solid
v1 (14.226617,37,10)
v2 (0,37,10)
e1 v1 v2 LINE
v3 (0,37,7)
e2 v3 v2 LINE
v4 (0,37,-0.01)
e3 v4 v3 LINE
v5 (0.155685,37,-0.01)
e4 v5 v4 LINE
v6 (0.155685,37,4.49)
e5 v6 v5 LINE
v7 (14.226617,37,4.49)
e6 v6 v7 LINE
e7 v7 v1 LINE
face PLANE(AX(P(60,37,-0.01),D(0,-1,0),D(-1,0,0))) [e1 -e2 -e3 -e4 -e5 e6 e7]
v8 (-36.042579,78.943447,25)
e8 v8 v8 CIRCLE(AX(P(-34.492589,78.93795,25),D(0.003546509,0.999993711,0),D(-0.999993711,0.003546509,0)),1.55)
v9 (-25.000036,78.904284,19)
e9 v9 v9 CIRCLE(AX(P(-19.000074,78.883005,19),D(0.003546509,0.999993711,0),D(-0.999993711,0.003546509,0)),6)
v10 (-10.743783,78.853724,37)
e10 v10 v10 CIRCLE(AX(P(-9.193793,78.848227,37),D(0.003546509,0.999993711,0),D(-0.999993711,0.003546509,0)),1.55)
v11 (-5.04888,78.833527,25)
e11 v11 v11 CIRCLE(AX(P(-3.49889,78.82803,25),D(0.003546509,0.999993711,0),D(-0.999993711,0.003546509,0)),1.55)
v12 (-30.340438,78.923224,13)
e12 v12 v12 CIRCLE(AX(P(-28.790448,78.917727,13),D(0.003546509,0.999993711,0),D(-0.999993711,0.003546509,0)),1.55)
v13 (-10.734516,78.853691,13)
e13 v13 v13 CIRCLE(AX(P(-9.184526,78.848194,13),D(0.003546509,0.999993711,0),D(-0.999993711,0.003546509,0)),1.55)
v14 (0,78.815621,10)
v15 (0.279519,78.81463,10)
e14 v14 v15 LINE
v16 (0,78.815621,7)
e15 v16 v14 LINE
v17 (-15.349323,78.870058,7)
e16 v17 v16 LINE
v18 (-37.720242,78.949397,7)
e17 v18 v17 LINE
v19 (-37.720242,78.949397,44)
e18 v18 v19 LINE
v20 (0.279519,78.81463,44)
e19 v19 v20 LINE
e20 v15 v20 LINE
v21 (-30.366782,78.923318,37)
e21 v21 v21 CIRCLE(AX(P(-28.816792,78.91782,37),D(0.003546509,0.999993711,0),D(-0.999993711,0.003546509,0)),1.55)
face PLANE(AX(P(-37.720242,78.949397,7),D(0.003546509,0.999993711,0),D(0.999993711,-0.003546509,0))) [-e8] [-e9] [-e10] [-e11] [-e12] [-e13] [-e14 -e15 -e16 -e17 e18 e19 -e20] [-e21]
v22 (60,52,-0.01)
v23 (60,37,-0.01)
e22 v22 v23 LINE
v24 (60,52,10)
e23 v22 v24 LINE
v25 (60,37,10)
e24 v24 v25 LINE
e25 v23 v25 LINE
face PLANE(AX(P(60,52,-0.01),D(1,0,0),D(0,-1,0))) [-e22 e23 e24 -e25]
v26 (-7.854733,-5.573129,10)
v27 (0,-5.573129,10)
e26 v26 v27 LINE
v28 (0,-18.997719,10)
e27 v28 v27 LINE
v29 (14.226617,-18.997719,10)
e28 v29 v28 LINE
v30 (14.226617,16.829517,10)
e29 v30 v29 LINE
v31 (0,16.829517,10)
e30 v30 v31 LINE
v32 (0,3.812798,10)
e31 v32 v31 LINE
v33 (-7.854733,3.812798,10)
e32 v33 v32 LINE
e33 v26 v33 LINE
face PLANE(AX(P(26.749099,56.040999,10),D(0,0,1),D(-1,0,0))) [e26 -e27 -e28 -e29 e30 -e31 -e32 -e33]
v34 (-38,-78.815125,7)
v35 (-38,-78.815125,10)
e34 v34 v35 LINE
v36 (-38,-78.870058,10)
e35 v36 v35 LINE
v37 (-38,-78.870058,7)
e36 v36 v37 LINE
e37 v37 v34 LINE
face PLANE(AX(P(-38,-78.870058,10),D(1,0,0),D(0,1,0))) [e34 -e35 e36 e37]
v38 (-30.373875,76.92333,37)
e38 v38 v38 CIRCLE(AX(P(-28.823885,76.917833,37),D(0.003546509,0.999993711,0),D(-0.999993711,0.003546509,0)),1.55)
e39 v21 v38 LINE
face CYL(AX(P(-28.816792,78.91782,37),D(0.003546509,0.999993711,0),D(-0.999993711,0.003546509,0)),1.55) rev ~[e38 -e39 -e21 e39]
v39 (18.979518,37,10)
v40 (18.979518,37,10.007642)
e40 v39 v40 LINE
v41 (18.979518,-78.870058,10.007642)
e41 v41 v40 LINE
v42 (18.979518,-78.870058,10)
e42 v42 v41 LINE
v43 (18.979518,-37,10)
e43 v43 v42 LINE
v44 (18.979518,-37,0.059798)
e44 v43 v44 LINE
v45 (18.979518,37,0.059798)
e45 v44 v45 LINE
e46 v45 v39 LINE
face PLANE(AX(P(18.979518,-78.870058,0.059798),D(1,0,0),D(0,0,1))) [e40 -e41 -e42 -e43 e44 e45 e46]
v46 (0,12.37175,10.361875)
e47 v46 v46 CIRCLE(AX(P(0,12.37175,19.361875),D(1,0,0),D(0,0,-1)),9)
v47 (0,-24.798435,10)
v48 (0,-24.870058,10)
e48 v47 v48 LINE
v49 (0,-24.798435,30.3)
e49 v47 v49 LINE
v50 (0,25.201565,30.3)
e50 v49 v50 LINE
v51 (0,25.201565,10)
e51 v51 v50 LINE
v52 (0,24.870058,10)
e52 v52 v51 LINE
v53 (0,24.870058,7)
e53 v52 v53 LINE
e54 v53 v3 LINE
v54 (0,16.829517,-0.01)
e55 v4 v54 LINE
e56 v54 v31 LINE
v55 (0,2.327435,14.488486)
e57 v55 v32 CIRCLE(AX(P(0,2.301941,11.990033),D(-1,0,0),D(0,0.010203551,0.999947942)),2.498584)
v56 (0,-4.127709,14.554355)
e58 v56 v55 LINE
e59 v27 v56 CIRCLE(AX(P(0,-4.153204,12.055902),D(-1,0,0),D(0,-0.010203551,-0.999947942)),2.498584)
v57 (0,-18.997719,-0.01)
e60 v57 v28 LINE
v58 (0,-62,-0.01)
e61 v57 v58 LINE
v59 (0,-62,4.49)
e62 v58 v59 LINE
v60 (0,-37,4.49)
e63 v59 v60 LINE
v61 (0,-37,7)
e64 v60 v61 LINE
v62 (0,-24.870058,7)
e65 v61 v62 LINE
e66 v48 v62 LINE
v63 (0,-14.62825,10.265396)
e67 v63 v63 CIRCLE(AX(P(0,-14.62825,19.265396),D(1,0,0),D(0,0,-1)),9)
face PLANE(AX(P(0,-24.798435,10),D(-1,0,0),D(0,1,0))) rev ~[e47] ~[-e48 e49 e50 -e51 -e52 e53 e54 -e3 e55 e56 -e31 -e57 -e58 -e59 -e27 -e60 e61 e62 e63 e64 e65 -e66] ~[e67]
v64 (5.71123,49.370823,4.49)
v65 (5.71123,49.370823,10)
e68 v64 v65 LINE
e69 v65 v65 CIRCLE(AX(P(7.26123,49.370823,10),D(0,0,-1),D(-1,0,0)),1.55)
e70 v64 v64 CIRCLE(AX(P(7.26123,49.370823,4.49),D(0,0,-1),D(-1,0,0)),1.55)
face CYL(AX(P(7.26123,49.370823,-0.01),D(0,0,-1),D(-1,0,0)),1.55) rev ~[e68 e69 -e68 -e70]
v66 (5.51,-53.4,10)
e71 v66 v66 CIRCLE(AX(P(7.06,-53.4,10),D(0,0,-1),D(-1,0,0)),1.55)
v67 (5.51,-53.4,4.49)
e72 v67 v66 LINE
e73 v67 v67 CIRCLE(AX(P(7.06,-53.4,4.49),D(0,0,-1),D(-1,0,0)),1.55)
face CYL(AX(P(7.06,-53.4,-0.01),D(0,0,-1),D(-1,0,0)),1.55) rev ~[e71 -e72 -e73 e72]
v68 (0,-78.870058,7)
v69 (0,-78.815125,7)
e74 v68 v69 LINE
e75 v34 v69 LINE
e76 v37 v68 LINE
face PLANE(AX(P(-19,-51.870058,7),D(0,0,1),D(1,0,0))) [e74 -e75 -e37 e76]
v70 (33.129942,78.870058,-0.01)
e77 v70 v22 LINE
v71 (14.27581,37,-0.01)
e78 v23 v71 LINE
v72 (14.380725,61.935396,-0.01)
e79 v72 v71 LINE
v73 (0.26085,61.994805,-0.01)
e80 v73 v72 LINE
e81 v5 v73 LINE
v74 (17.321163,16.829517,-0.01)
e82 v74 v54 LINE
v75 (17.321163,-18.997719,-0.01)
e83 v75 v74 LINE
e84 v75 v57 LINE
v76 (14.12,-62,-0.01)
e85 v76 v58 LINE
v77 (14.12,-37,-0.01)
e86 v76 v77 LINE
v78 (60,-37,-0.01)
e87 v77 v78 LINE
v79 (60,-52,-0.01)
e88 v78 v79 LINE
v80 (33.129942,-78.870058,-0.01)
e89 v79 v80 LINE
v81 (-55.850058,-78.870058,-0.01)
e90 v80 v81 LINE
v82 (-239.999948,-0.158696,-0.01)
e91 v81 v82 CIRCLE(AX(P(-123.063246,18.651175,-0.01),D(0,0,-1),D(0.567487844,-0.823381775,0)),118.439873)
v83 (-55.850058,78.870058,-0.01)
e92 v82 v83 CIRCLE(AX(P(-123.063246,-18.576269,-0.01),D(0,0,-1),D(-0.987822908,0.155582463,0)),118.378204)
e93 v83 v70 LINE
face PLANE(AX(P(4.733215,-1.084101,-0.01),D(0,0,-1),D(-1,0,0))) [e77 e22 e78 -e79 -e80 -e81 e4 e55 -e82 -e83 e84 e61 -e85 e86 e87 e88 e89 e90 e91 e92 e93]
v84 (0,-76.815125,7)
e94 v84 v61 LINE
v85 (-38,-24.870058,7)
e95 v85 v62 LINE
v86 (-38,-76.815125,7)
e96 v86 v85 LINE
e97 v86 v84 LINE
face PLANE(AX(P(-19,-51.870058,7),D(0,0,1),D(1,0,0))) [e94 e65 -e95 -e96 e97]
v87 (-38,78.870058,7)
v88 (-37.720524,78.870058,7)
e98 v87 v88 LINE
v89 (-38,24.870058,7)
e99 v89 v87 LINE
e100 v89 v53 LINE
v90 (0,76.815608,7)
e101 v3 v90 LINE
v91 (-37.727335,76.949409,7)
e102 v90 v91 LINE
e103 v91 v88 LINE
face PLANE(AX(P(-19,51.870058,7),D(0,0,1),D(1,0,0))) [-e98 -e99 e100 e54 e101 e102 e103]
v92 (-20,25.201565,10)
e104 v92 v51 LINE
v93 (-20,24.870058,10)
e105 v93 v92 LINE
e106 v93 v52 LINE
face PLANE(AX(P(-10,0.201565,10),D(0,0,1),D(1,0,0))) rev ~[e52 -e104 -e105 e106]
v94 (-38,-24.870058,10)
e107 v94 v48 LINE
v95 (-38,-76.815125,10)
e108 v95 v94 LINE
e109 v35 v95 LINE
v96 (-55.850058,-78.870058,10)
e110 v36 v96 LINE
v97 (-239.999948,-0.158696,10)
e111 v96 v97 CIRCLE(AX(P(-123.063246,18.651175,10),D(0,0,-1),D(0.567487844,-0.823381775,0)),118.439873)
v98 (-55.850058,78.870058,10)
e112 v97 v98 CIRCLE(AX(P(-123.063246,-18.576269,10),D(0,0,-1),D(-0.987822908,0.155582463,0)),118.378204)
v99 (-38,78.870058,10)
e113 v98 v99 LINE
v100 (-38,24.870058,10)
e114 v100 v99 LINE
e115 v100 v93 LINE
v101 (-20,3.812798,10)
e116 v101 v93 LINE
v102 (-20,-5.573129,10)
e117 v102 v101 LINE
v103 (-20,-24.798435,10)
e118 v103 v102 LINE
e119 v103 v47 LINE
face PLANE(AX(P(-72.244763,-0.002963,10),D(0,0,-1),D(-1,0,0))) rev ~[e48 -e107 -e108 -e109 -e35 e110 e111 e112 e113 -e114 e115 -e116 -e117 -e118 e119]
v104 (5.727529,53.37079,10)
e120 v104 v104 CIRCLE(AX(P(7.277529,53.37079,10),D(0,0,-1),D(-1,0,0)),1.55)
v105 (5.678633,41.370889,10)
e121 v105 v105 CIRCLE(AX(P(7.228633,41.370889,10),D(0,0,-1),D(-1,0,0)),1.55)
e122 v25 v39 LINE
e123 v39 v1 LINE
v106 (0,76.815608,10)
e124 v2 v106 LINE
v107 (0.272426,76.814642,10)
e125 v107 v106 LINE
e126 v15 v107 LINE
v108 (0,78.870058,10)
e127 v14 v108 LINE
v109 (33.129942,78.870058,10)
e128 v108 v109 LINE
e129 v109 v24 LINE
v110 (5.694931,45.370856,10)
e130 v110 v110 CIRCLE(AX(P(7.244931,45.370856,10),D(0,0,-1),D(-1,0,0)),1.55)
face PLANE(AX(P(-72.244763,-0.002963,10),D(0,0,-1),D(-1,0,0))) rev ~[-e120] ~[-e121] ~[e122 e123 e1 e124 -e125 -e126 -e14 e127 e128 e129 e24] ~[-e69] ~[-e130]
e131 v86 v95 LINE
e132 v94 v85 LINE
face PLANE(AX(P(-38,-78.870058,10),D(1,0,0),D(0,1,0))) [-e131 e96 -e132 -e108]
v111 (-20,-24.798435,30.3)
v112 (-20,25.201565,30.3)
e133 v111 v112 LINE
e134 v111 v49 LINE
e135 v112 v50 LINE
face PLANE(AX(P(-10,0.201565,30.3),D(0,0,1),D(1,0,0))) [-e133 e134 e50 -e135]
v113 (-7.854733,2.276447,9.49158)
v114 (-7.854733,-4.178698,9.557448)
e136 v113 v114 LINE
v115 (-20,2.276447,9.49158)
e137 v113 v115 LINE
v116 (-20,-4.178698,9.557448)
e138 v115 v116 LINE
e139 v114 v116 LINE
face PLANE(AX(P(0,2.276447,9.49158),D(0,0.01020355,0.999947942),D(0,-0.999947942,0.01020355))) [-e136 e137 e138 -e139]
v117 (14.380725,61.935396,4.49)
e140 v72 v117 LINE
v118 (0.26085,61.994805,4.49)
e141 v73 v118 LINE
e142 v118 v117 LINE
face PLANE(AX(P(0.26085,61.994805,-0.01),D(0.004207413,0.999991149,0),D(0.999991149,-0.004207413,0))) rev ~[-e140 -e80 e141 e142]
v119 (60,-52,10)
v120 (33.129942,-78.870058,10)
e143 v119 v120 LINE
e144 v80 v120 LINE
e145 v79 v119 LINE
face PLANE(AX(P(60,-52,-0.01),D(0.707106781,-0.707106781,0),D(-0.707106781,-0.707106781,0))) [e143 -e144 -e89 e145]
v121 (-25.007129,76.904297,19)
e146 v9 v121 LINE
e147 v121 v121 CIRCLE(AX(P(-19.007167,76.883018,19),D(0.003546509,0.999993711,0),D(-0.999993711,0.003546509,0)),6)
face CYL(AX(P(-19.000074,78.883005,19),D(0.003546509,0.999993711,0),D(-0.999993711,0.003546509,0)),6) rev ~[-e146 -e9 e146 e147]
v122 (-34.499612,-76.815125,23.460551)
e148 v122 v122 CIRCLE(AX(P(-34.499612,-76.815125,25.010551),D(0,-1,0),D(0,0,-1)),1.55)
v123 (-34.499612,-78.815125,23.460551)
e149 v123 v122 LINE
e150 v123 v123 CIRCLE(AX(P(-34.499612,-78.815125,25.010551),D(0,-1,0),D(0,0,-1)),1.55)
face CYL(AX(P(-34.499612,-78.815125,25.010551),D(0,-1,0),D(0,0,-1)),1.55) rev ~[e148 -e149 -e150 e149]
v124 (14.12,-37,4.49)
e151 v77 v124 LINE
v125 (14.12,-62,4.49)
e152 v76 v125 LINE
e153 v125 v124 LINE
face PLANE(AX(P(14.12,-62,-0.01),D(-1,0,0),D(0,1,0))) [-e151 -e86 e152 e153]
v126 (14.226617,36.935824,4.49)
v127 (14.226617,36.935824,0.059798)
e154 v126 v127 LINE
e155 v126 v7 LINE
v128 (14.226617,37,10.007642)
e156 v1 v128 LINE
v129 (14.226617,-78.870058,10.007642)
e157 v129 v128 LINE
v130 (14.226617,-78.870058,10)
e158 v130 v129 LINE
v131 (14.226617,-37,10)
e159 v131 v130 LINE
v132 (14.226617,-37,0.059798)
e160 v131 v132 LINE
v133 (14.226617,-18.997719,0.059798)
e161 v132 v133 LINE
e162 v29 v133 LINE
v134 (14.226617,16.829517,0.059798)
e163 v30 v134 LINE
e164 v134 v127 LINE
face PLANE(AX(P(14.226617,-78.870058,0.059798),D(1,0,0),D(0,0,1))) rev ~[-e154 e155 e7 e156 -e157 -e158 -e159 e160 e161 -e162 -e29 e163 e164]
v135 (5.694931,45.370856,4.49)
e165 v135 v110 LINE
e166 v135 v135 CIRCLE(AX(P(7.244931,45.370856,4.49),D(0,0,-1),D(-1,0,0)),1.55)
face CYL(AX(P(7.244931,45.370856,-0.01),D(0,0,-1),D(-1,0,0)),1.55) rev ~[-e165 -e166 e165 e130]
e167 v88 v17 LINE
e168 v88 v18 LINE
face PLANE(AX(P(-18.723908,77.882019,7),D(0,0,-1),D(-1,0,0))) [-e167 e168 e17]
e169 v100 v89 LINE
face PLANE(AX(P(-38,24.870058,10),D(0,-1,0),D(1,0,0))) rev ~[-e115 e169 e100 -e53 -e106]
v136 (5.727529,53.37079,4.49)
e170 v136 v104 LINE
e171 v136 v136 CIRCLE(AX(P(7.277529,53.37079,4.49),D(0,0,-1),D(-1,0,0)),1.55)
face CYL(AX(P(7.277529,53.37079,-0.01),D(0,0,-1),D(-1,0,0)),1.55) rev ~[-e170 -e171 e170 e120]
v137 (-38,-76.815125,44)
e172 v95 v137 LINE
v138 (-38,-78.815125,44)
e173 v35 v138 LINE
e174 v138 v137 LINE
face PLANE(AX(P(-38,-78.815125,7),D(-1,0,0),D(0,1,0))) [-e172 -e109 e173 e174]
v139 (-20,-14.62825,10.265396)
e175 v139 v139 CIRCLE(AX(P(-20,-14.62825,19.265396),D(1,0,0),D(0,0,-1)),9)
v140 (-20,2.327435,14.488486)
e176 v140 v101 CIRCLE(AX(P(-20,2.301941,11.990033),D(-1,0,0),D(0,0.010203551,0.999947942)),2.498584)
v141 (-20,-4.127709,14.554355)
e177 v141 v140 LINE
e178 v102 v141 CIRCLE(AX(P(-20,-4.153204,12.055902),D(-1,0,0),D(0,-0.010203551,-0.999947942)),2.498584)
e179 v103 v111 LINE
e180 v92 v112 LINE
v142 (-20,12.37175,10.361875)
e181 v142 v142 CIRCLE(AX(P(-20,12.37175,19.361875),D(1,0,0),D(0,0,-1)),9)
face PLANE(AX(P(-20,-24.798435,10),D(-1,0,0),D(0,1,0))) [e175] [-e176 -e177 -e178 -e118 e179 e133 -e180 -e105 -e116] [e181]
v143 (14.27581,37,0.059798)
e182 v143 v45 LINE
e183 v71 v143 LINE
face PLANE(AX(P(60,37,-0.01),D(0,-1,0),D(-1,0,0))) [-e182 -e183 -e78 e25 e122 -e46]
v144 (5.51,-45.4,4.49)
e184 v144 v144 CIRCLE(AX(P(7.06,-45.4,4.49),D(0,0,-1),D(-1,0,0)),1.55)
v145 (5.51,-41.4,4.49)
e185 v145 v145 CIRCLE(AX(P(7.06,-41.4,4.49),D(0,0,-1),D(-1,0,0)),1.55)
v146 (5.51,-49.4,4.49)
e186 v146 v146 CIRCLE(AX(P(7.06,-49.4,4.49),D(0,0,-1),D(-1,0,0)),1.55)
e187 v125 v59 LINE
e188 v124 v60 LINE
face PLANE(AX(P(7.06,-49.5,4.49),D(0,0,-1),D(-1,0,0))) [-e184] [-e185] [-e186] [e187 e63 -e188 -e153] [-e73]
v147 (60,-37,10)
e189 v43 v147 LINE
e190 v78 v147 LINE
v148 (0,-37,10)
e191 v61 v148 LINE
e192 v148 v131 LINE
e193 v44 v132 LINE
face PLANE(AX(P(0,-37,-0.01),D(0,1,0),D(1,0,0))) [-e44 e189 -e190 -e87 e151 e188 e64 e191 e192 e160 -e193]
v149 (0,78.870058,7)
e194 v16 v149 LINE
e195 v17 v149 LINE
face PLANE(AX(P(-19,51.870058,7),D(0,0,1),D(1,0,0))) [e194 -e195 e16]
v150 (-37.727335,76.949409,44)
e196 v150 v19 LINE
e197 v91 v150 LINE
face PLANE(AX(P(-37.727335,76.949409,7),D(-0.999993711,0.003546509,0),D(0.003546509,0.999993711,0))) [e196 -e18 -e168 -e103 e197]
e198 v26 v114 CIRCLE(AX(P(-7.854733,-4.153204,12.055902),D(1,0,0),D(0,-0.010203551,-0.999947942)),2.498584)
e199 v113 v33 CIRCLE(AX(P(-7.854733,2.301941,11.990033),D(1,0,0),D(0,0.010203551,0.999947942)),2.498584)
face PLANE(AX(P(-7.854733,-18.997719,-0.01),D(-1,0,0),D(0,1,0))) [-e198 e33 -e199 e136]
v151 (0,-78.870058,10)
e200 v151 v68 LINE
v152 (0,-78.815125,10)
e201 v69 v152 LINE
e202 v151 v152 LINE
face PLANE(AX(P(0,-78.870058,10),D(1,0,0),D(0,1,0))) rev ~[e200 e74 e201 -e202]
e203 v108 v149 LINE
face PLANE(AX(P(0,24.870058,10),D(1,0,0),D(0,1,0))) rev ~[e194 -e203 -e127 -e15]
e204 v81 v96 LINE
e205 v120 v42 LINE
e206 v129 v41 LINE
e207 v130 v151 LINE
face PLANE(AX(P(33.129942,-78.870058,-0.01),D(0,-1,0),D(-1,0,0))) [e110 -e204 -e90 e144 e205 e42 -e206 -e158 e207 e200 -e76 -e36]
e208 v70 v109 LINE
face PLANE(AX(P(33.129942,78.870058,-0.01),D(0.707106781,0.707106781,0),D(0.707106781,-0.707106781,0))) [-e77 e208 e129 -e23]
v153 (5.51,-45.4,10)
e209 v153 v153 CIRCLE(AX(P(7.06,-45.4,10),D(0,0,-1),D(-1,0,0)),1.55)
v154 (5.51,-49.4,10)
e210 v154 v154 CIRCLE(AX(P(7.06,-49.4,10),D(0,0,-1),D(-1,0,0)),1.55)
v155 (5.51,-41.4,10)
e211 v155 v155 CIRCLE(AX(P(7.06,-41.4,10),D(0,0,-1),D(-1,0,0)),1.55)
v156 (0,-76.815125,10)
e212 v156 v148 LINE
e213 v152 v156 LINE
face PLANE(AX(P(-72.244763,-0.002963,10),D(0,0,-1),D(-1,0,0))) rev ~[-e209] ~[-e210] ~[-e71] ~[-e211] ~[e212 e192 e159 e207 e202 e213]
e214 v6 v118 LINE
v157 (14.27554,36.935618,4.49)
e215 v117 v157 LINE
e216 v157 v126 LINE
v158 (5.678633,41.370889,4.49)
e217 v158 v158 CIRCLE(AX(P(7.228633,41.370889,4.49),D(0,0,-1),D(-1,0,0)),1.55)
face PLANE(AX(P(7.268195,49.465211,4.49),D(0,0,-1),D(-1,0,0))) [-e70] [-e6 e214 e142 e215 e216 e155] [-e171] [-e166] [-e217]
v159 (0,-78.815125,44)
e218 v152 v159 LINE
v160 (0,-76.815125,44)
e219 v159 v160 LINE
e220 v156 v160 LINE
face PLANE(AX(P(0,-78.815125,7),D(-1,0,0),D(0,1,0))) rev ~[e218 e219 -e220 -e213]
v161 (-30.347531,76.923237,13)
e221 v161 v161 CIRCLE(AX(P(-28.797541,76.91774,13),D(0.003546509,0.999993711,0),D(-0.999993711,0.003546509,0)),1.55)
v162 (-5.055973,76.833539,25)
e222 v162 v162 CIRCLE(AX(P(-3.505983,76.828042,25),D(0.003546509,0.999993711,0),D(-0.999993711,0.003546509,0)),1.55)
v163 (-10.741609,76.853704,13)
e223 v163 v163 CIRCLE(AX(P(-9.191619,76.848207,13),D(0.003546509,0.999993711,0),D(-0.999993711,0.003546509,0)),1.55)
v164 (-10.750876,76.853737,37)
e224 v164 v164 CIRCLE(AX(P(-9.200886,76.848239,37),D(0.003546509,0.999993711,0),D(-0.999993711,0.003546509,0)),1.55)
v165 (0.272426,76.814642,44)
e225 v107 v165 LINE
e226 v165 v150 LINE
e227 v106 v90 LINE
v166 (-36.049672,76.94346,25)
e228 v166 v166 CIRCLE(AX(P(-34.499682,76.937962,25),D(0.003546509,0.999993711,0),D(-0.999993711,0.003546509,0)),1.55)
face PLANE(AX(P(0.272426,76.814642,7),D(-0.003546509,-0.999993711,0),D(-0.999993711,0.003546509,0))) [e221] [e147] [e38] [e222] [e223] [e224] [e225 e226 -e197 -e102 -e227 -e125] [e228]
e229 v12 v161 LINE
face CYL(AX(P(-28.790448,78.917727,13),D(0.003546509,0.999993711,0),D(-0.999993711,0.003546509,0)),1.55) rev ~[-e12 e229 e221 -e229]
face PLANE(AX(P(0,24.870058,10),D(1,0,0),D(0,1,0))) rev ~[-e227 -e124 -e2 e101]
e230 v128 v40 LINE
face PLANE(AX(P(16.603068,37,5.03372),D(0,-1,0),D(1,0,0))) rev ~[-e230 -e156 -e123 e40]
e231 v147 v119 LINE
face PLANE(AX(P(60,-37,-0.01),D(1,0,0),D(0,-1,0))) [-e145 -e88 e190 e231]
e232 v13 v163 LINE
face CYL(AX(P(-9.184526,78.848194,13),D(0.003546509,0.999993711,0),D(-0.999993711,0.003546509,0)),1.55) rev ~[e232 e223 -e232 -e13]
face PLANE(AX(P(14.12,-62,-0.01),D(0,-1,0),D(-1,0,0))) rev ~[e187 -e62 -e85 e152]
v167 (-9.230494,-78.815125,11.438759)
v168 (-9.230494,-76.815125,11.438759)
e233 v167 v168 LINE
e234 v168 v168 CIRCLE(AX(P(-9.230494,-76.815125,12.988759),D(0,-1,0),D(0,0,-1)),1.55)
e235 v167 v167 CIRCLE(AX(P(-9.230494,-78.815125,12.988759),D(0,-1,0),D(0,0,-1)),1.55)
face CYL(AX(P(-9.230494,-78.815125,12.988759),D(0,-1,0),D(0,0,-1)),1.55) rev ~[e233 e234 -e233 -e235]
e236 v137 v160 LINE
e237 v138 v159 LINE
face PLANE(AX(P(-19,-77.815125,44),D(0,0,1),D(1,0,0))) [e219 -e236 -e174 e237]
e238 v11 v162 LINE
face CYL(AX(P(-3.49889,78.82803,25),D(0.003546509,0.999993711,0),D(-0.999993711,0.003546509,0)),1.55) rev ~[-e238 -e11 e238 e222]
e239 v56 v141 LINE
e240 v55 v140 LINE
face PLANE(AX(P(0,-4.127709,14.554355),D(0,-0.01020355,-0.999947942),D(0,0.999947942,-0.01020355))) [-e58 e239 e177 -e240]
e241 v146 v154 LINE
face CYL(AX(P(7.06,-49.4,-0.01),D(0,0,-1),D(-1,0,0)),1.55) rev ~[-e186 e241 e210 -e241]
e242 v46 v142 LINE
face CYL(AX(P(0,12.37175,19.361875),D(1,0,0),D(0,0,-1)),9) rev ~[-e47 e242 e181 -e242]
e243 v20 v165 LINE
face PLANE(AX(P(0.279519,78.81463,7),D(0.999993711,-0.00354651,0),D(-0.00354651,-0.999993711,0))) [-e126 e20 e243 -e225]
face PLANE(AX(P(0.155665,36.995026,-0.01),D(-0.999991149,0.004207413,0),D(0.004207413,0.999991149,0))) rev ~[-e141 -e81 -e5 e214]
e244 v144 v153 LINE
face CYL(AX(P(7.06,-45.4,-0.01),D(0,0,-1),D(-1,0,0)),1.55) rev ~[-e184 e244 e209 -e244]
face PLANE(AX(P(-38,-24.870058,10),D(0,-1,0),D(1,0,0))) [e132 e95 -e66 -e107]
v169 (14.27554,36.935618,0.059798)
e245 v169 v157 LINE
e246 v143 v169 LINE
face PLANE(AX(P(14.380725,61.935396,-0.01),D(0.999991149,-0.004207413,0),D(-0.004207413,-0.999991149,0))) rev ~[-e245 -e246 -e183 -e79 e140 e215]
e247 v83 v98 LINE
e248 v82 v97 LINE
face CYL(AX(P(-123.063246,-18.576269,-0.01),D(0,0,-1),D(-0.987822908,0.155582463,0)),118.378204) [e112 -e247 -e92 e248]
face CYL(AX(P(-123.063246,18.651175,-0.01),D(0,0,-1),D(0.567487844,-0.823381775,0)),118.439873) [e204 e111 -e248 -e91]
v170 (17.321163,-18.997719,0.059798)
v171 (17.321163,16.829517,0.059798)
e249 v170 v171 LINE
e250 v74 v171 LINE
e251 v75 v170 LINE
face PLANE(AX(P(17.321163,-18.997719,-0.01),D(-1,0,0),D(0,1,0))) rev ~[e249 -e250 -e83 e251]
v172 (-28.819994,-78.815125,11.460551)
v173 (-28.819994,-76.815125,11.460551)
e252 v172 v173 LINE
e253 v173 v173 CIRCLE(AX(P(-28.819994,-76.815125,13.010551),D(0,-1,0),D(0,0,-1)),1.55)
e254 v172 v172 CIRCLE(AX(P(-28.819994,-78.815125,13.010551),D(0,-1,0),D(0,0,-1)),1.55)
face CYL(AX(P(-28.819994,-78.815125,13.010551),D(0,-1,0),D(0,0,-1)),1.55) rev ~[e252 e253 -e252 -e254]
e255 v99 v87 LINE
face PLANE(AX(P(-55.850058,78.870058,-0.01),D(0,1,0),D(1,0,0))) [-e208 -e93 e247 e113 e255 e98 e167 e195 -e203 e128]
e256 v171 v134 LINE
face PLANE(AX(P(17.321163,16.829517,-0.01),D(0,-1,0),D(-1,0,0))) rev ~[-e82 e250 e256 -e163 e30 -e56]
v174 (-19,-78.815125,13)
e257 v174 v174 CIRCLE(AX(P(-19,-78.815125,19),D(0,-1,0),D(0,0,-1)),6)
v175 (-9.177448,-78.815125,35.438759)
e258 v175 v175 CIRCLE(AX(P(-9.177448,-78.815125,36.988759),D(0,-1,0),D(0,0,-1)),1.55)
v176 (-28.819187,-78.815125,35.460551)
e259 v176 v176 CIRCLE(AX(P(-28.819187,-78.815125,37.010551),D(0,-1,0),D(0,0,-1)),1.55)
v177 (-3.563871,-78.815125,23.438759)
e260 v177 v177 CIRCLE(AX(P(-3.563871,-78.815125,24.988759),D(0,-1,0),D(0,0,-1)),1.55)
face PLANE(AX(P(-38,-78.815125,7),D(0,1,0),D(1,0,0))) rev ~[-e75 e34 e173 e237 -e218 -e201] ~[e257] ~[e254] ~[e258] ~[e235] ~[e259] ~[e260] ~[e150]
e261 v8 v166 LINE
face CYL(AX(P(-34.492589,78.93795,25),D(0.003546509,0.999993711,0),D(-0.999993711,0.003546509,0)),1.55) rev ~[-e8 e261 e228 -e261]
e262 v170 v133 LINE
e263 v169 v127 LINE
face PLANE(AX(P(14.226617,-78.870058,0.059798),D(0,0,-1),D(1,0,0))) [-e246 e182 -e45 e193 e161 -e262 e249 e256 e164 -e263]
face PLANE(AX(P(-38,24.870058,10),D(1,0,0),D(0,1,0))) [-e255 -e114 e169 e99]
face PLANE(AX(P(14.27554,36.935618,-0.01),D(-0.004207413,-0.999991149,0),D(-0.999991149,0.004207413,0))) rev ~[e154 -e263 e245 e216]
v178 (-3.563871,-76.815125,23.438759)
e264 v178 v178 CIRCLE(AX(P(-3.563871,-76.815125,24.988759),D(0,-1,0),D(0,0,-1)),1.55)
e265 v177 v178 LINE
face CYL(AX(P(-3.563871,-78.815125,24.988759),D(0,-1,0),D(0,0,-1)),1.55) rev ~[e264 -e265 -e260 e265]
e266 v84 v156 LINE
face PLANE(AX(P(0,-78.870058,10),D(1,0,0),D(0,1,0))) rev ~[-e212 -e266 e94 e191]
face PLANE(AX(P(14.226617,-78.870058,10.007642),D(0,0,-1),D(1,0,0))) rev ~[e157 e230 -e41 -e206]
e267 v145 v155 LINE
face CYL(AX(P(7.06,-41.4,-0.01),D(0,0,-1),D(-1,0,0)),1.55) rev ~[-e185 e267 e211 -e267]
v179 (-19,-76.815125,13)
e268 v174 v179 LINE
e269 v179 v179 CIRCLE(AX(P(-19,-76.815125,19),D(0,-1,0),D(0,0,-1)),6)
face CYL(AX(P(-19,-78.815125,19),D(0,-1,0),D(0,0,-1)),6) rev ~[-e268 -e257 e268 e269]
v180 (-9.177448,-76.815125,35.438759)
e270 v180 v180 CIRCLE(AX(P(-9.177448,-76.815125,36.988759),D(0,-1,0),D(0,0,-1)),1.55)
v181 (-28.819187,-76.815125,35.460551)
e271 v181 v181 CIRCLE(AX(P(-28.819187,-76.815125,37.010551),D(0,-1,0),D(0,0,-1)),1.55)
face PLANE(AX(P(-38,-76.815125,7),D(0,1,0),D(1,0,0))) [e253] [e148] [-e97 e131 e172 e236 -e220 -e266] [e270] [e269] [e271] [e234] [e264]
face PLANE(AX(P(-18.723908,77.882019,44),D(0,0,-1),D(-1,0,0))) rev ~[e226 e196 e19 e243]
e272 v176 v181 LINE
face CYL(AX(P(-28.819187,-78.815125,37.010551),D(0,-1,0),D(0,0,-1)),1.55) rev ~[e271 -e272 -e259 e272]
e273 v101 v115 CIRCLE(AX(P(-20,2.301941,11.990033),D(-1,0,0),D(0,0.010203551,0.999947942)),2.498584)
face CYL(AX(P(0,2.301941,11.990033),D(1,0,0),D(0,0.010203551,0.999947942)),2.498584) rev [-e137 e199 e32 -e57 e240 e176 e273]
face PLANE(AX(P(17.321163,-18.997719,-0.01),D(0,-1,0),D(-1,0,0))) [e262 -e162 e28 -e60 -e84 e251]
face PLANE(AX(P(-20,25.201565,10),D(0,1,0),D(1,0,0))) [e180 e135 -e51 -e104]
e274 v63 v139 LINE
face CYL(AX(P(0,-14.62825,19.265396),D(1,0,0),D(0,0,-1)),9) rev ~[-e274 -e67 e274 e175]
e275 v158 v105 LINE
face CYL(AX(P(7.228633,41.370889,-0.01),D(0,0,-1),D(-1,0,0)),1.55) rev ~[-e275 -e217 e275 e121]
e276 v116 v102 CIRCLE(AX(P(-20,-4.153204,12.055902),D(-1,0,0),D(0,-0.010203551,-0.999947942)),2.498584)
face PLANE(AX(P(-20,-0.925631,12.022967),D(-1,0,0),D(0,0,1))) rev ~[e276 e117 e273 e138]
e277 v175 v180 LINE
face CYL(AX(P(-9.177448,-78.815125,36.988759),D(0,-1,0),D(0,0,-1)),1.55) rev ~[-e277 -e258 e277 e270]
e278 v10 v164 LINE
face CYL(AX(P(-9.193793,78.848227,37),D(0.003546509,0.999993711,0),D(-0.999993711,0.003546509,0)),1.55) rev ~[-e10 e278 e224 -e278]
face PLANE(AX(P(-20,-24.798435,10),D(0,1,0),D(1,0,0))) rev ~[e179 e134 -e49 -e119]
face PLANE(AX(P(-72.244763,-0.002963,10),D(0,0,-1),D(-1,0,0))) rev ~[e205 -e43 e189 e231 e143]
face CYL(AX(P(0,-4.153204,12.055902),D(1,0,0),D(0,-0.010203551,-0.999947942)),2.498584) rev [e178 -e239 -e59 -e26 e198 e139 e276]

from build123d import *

# Parameters (mm, degrees)
BOSS_EXTRUDE1_DEPTH      = 10
BOSS_EXTRUDE1_DEPTH_BACK = 0.01
SKETCH3_W                = 38
SKETCH3_H                = 54
CUT_EXTRUDE1_DEPTH       = 3
SKETCH5_W                = 38
SKETCH5_H                = 54
CUT_EXTRUDE3_DEPTH       = 3
SKETCH15_W               = 20
SKETCH15_H               = 50
BOSS_EXTRUDE3_DEPTH      = 20.3
SKETCH21_R               = 9
CUT_EXTRUDE21_DEPTH      = 20
SKETCH28_W               = 4.75290021
SKETCH28_H               = 9.947843747
BOSS_EXTRUDE6_DEPTH      = 115.870057685
SKETCH30_W               = 14.12
SKETCH30_H               = 25
CUT_EXTRUDE25_DEPTH      = 4.5
SKETCH33_R               = 1.55
CUT_EXTRUDE26_DEPTH      = 10.01
SKETCH36_W               = 38
SKETCH36_H               = 2
BOSS_EXTRUDE7_DEPTH      = 37
SKETCH39_R               = 6
SKETCH39_R_2             = 1.55
CUT_EXTRUDE28_DEPTH      = 2
SKETCH42_R               = 6
SKETCH42_R_2             = 1.55
CUT_EXTRUDE29_DEPTH      = 2
BOSS_EXTRUDE8_REACH      = 265.623
SKETCH44_W               = 25.175895627
SKETCH44_H               = 35.827236085


with BuildPart() as part:
    # Sketch1 → Boss-Extrude1 (new, two sides: drawn at the far end of the back side and taken through both)
    with BuildSketch(Plane.XY.offset(-BOSS_EXTRUDE1_DEPTH_BACK)):
        with BuildLine():
            Line((0, 0), (0, -37))
            Line((0, -37), (60, -37))
            Line((60, -37), (60, -52))
            Line((60, -52), (33.129942315, -78.870057685))
            Line((33.129942315, -78.870057685), (-55.850057685, -78.870057685))
            ThreePointArc((-55.850057685, -78.870057685), (-169.614041234, -90.257166815), (-239.999947532, -0.158696229))
            ThreePointArc((-239.999947532, -0.158696229), (-169.748285548, 90.207490359), (-55.850057685, 78.870057685))
            Line((-55.850057685, 78.870057685), (33.129942315, 78.870057685))
            Line((33.129942315, 78.870057685), (60, 52))
            Line((60, 52), (60, 37))
            Line((60, 37), (0, 37))
            Line((0, 37), (0, 0))
        make_face()
    extrude(amount=BOSS_EXTRUDE1_DEPTH + BOSS_EXTRUDE1_DEPTH_BACK)

    # Sketch3 → Cut-Extrude1 (cut)
    with BuildSketch(Plane.XY.offset(10)):
        with Locations((-19, 51.870057685)):
            Rectangle(SKETCH3_W, SKETCH3_H)
    extrude(amount=-CUT_EXTRUDE1_DEPTH, mode=Mode.SUBTRACT)

    # Sketch5 → Cut-Extrude3 (cut)
    with BuildSketch(Plane.XY.offset(10)):
        with Locations((-19, -51.870057685)):
            Rectangle(SKETCH5_W, SKETCH5_H)
    extrude(amount=-CUT_EXTRUDE3_DEPTH, mode=Mode.SUBTRACT)

    # Sketch15 → Boss-Extrude3 (add)
    with BuildSketch(Plane.XY.offset(10)):
        with Locations((-10, 0.20156489)):
            Rectangle(SKETCH15_W, SKETCH15_H)
    extrude(amount=BOSS_EXTRUDE3_DEPTH)

    # Sketch21 → Cut-Extrude21 (cut)
    with BuildSketch(Plane(origin=(0, 0, 0), x_dir=(0, 0, -1), z_dir=(1, 0, 0))):
        with Locations((-19.36187505, 12.37175029)):
            Circle(SKETCH21_R)
        with Locations((-19.26539558, -14.62824971)):
            Circle(SKETCH21_R)
        with BuildLine():
            Line((-9.491579533, 2.276446619), (-9.557448357, -4.178698144))
            ThreePointArc((-9.557448357, -4.178698144), (-12.081396215, -6.651657156), (-14.554355227, -4.127709299))
            Line((-14.554355227, -4.127709299), (-14.488486403, 2.327435464))
            ThreePointArc((-14.488486403, 2.327435464), (-11.964538545, 4.800394476), (-9.491579533, 2.276446619))
        make_face()
    extrude(amount=-CUT_EXTRUDE21_DEPTH, mode=Mode.SUBTRACT)

    # Sketch28 → Boss-Extrude6 (add)
    with BuildSketch(Plane.XZ.offset(78.870057685)):
        with Locations((16.603067585, 5.033719824)):
            Rectangle(SKETCH28_W, SKETCH28_H)
    extrude(amount=-BOSS_EXTRUDE6_DEPTH)

    # Sketch30 → Cut-Extrude25 (cut)
    with BuildSketch(Plane(origin=(0, 0, -0.01), x_dir=(-1, 0, 0), z_dir=(0, 0, -1))):
        with Locations((-7.06, -49.5)):
            Rectangle(SKETCH30_W, SKETCH30_H)
        Polygon((-14.38072485, 61.935396467), (-14.275539526, 36.935617747), (-0.155664505, 36.995026418), (-0.260849829, 61.994805138), align=None)
    extrude(amount=-CUT_EXTRUDE25_DEPTH, mode=Mode.SUBTRACT)

    # Sketch33 → Cut-Extrude26 (cut)
    with BuildSketch(Plane(origin=(0, 0, -0.01), x_dir=(-1, 0, 0), z_dir=(0, 0, -1))):
        with Locations((-7.06, -53.4)):
            Circle(SKETCH33_R)
        with Locations((-7.06, -49.4)):
            Circle(SKETCH33_R)
        with Locations((-7.06, -45.4)):
            Circle(SKETCH33_R)
        with Locations((-7.06, -41.4)):
            Circle(SKETCH33_R)
        with Locations((-7.228632788, 41.370889137)):
            Circle(SKETCH33_R)
        with Locations((-7.244931474, 45.370855931)):
            Circle(SKETCH33_R)
        with Locations((-7.261230159, 49.370822725)):
            Circle(SKETCH33_R)
        with Locations((-7.277528845, 53.370789519)):
            Circle(SKETCH33_R)
    extrude(amount=-CUT_EXTRUDE26_DEPTH, mode=Mode.SUBTRACT)

    # Sketch36 → Boss-Extrude7 (add)
    with BuildSketch(Plane.XY.offset(7)):
        Polygon((0.279518574, 78.814629504), (0.272425555, 76.814642082), (-37.727335467, 76.949409435), (-37.720242449, 78.949396858), align=None)
        with Locations((-19, -77.815125164)):
            Rectangle(SKETCH36_W, SKETCH36_H)
    extrude(amount=BOSS_EXTRUDE7_DEPTH)

    # Sketch39 → Cut-Extrude28 (cut)
    with BuildSketch(Plane.XZ.offset(78.815125164)):
        with Locations(Location((-19, 19, 0), (0, 0, 270))):
            Circle(SKETCH39_R)
        with Locations(Location((-34.499611559, 25.01055106, 0), (0, 0, 270))):
            Circle(SKETCH39_R_2)
        with Locations(Location((-3.563871147, 24.988758691, 0), (0, 0, 270))):
            Circle(SKETCH39_R_2)
        with Locations(Location((-28.819186805, 37.01055106, 0), (0, 0, 270))):
            Circle(SKETCH39_R_2)
        with Locations(Location((-9.177448314, 36.988758691, 0), (0, 0, 270))):
            Circle(SKETCH39_R_2)
        with Locations(Location((-28.819994175, 13.01055106, 0), (0, 0, 270))):
            Circle(SKETCH39_R_2)
        with Locations(Location((-9.230494356, 12.988758691, 0), (0, 0, 270))):
            Circle(SKETCH39_R_2)
    extrude(amount=-CUT_EXTRUDE28_DEPTH, mode=Mode.SUBTRACT)

    # Sketch42 → Cut-Extrude29 (cut)
    with BuildSketch(Plane(origin=(0.279518574, 78.814629504, 0), x_dir=(0.9999937111161443, -0.003546509292438372, 0), z_dir=(0.003546509292438372, 0.9999937111161443, 0))):
        with Locations(Location((-19.279713392, -19, 0), (0, 0, 180))):
            Circle(SKETCH42_R)
        with Locations(Location((-29.070149337, -13, 0), (0, 0, 180))):
            Circle(SKETCH42_R_2)
        with Locations(Location((-3.778432466, -25, 0), (0, 0, 180))):
            Circle(SKETCH42_R_2)
        with Locations(Location((-9.464104196, -13, 0), (0, 0, 180))):
            Circle(SKETCH42_R_2)
        with Locations(Location((-34.772326096, -25, 0), (0, 0, 180))):
            Circle(SKETCH42_R_2)
        with Locations(Location((-29.096493177, -37, 0), (0, 0, 180))):
            Circle(SKETCH42_R_2)
        with Locations(Location((-9.473371075, -37, 0), (0, 0, 180))):
            Circle(SKETCH42_R_2)
    extrude(amount=-CUT_EXTRUDE29_DEPTH, mode=Mode.SUBTRACT)

    # Boss-Extrude8: up to this face of the body (flat: up to its plane)
    boss_extrude8_end = Plane(part.part.faces().sort_by_distance((26.749098796, 56.040998738, 10))[0])
    # Sketch44 → Boss-Extrude8 (add, up to the picked face)
    with BuildSketch(Plane(origin=(0, 0, -0.01), x_dir=(-1, 0, 0), z_dir=(0, 0, -1)), mode=Mode.PRIVATE) as boss_extrude8_sk1:
        with Locations((-4.733214954, -1.084100606)):
            Rectangle(SKETCH44_W, SKETCH44_H)
    boss_extrude8_tool1 = split(extrude(boss_extrude8_sk1.sketch, amount=-BOSS_EXTRUDE8_REACH, mode=Mode.PRIVATE), bisect_by=boss_extrude8_end, keep=Keep.BOTH, mode=Mode.PRIVATE)
    add(boss_extrude8_tool1.solids().sort_by(Axis((4.733215, -1.084101, -0.01), (0, 0, 1)))[0])


solid = part.part
